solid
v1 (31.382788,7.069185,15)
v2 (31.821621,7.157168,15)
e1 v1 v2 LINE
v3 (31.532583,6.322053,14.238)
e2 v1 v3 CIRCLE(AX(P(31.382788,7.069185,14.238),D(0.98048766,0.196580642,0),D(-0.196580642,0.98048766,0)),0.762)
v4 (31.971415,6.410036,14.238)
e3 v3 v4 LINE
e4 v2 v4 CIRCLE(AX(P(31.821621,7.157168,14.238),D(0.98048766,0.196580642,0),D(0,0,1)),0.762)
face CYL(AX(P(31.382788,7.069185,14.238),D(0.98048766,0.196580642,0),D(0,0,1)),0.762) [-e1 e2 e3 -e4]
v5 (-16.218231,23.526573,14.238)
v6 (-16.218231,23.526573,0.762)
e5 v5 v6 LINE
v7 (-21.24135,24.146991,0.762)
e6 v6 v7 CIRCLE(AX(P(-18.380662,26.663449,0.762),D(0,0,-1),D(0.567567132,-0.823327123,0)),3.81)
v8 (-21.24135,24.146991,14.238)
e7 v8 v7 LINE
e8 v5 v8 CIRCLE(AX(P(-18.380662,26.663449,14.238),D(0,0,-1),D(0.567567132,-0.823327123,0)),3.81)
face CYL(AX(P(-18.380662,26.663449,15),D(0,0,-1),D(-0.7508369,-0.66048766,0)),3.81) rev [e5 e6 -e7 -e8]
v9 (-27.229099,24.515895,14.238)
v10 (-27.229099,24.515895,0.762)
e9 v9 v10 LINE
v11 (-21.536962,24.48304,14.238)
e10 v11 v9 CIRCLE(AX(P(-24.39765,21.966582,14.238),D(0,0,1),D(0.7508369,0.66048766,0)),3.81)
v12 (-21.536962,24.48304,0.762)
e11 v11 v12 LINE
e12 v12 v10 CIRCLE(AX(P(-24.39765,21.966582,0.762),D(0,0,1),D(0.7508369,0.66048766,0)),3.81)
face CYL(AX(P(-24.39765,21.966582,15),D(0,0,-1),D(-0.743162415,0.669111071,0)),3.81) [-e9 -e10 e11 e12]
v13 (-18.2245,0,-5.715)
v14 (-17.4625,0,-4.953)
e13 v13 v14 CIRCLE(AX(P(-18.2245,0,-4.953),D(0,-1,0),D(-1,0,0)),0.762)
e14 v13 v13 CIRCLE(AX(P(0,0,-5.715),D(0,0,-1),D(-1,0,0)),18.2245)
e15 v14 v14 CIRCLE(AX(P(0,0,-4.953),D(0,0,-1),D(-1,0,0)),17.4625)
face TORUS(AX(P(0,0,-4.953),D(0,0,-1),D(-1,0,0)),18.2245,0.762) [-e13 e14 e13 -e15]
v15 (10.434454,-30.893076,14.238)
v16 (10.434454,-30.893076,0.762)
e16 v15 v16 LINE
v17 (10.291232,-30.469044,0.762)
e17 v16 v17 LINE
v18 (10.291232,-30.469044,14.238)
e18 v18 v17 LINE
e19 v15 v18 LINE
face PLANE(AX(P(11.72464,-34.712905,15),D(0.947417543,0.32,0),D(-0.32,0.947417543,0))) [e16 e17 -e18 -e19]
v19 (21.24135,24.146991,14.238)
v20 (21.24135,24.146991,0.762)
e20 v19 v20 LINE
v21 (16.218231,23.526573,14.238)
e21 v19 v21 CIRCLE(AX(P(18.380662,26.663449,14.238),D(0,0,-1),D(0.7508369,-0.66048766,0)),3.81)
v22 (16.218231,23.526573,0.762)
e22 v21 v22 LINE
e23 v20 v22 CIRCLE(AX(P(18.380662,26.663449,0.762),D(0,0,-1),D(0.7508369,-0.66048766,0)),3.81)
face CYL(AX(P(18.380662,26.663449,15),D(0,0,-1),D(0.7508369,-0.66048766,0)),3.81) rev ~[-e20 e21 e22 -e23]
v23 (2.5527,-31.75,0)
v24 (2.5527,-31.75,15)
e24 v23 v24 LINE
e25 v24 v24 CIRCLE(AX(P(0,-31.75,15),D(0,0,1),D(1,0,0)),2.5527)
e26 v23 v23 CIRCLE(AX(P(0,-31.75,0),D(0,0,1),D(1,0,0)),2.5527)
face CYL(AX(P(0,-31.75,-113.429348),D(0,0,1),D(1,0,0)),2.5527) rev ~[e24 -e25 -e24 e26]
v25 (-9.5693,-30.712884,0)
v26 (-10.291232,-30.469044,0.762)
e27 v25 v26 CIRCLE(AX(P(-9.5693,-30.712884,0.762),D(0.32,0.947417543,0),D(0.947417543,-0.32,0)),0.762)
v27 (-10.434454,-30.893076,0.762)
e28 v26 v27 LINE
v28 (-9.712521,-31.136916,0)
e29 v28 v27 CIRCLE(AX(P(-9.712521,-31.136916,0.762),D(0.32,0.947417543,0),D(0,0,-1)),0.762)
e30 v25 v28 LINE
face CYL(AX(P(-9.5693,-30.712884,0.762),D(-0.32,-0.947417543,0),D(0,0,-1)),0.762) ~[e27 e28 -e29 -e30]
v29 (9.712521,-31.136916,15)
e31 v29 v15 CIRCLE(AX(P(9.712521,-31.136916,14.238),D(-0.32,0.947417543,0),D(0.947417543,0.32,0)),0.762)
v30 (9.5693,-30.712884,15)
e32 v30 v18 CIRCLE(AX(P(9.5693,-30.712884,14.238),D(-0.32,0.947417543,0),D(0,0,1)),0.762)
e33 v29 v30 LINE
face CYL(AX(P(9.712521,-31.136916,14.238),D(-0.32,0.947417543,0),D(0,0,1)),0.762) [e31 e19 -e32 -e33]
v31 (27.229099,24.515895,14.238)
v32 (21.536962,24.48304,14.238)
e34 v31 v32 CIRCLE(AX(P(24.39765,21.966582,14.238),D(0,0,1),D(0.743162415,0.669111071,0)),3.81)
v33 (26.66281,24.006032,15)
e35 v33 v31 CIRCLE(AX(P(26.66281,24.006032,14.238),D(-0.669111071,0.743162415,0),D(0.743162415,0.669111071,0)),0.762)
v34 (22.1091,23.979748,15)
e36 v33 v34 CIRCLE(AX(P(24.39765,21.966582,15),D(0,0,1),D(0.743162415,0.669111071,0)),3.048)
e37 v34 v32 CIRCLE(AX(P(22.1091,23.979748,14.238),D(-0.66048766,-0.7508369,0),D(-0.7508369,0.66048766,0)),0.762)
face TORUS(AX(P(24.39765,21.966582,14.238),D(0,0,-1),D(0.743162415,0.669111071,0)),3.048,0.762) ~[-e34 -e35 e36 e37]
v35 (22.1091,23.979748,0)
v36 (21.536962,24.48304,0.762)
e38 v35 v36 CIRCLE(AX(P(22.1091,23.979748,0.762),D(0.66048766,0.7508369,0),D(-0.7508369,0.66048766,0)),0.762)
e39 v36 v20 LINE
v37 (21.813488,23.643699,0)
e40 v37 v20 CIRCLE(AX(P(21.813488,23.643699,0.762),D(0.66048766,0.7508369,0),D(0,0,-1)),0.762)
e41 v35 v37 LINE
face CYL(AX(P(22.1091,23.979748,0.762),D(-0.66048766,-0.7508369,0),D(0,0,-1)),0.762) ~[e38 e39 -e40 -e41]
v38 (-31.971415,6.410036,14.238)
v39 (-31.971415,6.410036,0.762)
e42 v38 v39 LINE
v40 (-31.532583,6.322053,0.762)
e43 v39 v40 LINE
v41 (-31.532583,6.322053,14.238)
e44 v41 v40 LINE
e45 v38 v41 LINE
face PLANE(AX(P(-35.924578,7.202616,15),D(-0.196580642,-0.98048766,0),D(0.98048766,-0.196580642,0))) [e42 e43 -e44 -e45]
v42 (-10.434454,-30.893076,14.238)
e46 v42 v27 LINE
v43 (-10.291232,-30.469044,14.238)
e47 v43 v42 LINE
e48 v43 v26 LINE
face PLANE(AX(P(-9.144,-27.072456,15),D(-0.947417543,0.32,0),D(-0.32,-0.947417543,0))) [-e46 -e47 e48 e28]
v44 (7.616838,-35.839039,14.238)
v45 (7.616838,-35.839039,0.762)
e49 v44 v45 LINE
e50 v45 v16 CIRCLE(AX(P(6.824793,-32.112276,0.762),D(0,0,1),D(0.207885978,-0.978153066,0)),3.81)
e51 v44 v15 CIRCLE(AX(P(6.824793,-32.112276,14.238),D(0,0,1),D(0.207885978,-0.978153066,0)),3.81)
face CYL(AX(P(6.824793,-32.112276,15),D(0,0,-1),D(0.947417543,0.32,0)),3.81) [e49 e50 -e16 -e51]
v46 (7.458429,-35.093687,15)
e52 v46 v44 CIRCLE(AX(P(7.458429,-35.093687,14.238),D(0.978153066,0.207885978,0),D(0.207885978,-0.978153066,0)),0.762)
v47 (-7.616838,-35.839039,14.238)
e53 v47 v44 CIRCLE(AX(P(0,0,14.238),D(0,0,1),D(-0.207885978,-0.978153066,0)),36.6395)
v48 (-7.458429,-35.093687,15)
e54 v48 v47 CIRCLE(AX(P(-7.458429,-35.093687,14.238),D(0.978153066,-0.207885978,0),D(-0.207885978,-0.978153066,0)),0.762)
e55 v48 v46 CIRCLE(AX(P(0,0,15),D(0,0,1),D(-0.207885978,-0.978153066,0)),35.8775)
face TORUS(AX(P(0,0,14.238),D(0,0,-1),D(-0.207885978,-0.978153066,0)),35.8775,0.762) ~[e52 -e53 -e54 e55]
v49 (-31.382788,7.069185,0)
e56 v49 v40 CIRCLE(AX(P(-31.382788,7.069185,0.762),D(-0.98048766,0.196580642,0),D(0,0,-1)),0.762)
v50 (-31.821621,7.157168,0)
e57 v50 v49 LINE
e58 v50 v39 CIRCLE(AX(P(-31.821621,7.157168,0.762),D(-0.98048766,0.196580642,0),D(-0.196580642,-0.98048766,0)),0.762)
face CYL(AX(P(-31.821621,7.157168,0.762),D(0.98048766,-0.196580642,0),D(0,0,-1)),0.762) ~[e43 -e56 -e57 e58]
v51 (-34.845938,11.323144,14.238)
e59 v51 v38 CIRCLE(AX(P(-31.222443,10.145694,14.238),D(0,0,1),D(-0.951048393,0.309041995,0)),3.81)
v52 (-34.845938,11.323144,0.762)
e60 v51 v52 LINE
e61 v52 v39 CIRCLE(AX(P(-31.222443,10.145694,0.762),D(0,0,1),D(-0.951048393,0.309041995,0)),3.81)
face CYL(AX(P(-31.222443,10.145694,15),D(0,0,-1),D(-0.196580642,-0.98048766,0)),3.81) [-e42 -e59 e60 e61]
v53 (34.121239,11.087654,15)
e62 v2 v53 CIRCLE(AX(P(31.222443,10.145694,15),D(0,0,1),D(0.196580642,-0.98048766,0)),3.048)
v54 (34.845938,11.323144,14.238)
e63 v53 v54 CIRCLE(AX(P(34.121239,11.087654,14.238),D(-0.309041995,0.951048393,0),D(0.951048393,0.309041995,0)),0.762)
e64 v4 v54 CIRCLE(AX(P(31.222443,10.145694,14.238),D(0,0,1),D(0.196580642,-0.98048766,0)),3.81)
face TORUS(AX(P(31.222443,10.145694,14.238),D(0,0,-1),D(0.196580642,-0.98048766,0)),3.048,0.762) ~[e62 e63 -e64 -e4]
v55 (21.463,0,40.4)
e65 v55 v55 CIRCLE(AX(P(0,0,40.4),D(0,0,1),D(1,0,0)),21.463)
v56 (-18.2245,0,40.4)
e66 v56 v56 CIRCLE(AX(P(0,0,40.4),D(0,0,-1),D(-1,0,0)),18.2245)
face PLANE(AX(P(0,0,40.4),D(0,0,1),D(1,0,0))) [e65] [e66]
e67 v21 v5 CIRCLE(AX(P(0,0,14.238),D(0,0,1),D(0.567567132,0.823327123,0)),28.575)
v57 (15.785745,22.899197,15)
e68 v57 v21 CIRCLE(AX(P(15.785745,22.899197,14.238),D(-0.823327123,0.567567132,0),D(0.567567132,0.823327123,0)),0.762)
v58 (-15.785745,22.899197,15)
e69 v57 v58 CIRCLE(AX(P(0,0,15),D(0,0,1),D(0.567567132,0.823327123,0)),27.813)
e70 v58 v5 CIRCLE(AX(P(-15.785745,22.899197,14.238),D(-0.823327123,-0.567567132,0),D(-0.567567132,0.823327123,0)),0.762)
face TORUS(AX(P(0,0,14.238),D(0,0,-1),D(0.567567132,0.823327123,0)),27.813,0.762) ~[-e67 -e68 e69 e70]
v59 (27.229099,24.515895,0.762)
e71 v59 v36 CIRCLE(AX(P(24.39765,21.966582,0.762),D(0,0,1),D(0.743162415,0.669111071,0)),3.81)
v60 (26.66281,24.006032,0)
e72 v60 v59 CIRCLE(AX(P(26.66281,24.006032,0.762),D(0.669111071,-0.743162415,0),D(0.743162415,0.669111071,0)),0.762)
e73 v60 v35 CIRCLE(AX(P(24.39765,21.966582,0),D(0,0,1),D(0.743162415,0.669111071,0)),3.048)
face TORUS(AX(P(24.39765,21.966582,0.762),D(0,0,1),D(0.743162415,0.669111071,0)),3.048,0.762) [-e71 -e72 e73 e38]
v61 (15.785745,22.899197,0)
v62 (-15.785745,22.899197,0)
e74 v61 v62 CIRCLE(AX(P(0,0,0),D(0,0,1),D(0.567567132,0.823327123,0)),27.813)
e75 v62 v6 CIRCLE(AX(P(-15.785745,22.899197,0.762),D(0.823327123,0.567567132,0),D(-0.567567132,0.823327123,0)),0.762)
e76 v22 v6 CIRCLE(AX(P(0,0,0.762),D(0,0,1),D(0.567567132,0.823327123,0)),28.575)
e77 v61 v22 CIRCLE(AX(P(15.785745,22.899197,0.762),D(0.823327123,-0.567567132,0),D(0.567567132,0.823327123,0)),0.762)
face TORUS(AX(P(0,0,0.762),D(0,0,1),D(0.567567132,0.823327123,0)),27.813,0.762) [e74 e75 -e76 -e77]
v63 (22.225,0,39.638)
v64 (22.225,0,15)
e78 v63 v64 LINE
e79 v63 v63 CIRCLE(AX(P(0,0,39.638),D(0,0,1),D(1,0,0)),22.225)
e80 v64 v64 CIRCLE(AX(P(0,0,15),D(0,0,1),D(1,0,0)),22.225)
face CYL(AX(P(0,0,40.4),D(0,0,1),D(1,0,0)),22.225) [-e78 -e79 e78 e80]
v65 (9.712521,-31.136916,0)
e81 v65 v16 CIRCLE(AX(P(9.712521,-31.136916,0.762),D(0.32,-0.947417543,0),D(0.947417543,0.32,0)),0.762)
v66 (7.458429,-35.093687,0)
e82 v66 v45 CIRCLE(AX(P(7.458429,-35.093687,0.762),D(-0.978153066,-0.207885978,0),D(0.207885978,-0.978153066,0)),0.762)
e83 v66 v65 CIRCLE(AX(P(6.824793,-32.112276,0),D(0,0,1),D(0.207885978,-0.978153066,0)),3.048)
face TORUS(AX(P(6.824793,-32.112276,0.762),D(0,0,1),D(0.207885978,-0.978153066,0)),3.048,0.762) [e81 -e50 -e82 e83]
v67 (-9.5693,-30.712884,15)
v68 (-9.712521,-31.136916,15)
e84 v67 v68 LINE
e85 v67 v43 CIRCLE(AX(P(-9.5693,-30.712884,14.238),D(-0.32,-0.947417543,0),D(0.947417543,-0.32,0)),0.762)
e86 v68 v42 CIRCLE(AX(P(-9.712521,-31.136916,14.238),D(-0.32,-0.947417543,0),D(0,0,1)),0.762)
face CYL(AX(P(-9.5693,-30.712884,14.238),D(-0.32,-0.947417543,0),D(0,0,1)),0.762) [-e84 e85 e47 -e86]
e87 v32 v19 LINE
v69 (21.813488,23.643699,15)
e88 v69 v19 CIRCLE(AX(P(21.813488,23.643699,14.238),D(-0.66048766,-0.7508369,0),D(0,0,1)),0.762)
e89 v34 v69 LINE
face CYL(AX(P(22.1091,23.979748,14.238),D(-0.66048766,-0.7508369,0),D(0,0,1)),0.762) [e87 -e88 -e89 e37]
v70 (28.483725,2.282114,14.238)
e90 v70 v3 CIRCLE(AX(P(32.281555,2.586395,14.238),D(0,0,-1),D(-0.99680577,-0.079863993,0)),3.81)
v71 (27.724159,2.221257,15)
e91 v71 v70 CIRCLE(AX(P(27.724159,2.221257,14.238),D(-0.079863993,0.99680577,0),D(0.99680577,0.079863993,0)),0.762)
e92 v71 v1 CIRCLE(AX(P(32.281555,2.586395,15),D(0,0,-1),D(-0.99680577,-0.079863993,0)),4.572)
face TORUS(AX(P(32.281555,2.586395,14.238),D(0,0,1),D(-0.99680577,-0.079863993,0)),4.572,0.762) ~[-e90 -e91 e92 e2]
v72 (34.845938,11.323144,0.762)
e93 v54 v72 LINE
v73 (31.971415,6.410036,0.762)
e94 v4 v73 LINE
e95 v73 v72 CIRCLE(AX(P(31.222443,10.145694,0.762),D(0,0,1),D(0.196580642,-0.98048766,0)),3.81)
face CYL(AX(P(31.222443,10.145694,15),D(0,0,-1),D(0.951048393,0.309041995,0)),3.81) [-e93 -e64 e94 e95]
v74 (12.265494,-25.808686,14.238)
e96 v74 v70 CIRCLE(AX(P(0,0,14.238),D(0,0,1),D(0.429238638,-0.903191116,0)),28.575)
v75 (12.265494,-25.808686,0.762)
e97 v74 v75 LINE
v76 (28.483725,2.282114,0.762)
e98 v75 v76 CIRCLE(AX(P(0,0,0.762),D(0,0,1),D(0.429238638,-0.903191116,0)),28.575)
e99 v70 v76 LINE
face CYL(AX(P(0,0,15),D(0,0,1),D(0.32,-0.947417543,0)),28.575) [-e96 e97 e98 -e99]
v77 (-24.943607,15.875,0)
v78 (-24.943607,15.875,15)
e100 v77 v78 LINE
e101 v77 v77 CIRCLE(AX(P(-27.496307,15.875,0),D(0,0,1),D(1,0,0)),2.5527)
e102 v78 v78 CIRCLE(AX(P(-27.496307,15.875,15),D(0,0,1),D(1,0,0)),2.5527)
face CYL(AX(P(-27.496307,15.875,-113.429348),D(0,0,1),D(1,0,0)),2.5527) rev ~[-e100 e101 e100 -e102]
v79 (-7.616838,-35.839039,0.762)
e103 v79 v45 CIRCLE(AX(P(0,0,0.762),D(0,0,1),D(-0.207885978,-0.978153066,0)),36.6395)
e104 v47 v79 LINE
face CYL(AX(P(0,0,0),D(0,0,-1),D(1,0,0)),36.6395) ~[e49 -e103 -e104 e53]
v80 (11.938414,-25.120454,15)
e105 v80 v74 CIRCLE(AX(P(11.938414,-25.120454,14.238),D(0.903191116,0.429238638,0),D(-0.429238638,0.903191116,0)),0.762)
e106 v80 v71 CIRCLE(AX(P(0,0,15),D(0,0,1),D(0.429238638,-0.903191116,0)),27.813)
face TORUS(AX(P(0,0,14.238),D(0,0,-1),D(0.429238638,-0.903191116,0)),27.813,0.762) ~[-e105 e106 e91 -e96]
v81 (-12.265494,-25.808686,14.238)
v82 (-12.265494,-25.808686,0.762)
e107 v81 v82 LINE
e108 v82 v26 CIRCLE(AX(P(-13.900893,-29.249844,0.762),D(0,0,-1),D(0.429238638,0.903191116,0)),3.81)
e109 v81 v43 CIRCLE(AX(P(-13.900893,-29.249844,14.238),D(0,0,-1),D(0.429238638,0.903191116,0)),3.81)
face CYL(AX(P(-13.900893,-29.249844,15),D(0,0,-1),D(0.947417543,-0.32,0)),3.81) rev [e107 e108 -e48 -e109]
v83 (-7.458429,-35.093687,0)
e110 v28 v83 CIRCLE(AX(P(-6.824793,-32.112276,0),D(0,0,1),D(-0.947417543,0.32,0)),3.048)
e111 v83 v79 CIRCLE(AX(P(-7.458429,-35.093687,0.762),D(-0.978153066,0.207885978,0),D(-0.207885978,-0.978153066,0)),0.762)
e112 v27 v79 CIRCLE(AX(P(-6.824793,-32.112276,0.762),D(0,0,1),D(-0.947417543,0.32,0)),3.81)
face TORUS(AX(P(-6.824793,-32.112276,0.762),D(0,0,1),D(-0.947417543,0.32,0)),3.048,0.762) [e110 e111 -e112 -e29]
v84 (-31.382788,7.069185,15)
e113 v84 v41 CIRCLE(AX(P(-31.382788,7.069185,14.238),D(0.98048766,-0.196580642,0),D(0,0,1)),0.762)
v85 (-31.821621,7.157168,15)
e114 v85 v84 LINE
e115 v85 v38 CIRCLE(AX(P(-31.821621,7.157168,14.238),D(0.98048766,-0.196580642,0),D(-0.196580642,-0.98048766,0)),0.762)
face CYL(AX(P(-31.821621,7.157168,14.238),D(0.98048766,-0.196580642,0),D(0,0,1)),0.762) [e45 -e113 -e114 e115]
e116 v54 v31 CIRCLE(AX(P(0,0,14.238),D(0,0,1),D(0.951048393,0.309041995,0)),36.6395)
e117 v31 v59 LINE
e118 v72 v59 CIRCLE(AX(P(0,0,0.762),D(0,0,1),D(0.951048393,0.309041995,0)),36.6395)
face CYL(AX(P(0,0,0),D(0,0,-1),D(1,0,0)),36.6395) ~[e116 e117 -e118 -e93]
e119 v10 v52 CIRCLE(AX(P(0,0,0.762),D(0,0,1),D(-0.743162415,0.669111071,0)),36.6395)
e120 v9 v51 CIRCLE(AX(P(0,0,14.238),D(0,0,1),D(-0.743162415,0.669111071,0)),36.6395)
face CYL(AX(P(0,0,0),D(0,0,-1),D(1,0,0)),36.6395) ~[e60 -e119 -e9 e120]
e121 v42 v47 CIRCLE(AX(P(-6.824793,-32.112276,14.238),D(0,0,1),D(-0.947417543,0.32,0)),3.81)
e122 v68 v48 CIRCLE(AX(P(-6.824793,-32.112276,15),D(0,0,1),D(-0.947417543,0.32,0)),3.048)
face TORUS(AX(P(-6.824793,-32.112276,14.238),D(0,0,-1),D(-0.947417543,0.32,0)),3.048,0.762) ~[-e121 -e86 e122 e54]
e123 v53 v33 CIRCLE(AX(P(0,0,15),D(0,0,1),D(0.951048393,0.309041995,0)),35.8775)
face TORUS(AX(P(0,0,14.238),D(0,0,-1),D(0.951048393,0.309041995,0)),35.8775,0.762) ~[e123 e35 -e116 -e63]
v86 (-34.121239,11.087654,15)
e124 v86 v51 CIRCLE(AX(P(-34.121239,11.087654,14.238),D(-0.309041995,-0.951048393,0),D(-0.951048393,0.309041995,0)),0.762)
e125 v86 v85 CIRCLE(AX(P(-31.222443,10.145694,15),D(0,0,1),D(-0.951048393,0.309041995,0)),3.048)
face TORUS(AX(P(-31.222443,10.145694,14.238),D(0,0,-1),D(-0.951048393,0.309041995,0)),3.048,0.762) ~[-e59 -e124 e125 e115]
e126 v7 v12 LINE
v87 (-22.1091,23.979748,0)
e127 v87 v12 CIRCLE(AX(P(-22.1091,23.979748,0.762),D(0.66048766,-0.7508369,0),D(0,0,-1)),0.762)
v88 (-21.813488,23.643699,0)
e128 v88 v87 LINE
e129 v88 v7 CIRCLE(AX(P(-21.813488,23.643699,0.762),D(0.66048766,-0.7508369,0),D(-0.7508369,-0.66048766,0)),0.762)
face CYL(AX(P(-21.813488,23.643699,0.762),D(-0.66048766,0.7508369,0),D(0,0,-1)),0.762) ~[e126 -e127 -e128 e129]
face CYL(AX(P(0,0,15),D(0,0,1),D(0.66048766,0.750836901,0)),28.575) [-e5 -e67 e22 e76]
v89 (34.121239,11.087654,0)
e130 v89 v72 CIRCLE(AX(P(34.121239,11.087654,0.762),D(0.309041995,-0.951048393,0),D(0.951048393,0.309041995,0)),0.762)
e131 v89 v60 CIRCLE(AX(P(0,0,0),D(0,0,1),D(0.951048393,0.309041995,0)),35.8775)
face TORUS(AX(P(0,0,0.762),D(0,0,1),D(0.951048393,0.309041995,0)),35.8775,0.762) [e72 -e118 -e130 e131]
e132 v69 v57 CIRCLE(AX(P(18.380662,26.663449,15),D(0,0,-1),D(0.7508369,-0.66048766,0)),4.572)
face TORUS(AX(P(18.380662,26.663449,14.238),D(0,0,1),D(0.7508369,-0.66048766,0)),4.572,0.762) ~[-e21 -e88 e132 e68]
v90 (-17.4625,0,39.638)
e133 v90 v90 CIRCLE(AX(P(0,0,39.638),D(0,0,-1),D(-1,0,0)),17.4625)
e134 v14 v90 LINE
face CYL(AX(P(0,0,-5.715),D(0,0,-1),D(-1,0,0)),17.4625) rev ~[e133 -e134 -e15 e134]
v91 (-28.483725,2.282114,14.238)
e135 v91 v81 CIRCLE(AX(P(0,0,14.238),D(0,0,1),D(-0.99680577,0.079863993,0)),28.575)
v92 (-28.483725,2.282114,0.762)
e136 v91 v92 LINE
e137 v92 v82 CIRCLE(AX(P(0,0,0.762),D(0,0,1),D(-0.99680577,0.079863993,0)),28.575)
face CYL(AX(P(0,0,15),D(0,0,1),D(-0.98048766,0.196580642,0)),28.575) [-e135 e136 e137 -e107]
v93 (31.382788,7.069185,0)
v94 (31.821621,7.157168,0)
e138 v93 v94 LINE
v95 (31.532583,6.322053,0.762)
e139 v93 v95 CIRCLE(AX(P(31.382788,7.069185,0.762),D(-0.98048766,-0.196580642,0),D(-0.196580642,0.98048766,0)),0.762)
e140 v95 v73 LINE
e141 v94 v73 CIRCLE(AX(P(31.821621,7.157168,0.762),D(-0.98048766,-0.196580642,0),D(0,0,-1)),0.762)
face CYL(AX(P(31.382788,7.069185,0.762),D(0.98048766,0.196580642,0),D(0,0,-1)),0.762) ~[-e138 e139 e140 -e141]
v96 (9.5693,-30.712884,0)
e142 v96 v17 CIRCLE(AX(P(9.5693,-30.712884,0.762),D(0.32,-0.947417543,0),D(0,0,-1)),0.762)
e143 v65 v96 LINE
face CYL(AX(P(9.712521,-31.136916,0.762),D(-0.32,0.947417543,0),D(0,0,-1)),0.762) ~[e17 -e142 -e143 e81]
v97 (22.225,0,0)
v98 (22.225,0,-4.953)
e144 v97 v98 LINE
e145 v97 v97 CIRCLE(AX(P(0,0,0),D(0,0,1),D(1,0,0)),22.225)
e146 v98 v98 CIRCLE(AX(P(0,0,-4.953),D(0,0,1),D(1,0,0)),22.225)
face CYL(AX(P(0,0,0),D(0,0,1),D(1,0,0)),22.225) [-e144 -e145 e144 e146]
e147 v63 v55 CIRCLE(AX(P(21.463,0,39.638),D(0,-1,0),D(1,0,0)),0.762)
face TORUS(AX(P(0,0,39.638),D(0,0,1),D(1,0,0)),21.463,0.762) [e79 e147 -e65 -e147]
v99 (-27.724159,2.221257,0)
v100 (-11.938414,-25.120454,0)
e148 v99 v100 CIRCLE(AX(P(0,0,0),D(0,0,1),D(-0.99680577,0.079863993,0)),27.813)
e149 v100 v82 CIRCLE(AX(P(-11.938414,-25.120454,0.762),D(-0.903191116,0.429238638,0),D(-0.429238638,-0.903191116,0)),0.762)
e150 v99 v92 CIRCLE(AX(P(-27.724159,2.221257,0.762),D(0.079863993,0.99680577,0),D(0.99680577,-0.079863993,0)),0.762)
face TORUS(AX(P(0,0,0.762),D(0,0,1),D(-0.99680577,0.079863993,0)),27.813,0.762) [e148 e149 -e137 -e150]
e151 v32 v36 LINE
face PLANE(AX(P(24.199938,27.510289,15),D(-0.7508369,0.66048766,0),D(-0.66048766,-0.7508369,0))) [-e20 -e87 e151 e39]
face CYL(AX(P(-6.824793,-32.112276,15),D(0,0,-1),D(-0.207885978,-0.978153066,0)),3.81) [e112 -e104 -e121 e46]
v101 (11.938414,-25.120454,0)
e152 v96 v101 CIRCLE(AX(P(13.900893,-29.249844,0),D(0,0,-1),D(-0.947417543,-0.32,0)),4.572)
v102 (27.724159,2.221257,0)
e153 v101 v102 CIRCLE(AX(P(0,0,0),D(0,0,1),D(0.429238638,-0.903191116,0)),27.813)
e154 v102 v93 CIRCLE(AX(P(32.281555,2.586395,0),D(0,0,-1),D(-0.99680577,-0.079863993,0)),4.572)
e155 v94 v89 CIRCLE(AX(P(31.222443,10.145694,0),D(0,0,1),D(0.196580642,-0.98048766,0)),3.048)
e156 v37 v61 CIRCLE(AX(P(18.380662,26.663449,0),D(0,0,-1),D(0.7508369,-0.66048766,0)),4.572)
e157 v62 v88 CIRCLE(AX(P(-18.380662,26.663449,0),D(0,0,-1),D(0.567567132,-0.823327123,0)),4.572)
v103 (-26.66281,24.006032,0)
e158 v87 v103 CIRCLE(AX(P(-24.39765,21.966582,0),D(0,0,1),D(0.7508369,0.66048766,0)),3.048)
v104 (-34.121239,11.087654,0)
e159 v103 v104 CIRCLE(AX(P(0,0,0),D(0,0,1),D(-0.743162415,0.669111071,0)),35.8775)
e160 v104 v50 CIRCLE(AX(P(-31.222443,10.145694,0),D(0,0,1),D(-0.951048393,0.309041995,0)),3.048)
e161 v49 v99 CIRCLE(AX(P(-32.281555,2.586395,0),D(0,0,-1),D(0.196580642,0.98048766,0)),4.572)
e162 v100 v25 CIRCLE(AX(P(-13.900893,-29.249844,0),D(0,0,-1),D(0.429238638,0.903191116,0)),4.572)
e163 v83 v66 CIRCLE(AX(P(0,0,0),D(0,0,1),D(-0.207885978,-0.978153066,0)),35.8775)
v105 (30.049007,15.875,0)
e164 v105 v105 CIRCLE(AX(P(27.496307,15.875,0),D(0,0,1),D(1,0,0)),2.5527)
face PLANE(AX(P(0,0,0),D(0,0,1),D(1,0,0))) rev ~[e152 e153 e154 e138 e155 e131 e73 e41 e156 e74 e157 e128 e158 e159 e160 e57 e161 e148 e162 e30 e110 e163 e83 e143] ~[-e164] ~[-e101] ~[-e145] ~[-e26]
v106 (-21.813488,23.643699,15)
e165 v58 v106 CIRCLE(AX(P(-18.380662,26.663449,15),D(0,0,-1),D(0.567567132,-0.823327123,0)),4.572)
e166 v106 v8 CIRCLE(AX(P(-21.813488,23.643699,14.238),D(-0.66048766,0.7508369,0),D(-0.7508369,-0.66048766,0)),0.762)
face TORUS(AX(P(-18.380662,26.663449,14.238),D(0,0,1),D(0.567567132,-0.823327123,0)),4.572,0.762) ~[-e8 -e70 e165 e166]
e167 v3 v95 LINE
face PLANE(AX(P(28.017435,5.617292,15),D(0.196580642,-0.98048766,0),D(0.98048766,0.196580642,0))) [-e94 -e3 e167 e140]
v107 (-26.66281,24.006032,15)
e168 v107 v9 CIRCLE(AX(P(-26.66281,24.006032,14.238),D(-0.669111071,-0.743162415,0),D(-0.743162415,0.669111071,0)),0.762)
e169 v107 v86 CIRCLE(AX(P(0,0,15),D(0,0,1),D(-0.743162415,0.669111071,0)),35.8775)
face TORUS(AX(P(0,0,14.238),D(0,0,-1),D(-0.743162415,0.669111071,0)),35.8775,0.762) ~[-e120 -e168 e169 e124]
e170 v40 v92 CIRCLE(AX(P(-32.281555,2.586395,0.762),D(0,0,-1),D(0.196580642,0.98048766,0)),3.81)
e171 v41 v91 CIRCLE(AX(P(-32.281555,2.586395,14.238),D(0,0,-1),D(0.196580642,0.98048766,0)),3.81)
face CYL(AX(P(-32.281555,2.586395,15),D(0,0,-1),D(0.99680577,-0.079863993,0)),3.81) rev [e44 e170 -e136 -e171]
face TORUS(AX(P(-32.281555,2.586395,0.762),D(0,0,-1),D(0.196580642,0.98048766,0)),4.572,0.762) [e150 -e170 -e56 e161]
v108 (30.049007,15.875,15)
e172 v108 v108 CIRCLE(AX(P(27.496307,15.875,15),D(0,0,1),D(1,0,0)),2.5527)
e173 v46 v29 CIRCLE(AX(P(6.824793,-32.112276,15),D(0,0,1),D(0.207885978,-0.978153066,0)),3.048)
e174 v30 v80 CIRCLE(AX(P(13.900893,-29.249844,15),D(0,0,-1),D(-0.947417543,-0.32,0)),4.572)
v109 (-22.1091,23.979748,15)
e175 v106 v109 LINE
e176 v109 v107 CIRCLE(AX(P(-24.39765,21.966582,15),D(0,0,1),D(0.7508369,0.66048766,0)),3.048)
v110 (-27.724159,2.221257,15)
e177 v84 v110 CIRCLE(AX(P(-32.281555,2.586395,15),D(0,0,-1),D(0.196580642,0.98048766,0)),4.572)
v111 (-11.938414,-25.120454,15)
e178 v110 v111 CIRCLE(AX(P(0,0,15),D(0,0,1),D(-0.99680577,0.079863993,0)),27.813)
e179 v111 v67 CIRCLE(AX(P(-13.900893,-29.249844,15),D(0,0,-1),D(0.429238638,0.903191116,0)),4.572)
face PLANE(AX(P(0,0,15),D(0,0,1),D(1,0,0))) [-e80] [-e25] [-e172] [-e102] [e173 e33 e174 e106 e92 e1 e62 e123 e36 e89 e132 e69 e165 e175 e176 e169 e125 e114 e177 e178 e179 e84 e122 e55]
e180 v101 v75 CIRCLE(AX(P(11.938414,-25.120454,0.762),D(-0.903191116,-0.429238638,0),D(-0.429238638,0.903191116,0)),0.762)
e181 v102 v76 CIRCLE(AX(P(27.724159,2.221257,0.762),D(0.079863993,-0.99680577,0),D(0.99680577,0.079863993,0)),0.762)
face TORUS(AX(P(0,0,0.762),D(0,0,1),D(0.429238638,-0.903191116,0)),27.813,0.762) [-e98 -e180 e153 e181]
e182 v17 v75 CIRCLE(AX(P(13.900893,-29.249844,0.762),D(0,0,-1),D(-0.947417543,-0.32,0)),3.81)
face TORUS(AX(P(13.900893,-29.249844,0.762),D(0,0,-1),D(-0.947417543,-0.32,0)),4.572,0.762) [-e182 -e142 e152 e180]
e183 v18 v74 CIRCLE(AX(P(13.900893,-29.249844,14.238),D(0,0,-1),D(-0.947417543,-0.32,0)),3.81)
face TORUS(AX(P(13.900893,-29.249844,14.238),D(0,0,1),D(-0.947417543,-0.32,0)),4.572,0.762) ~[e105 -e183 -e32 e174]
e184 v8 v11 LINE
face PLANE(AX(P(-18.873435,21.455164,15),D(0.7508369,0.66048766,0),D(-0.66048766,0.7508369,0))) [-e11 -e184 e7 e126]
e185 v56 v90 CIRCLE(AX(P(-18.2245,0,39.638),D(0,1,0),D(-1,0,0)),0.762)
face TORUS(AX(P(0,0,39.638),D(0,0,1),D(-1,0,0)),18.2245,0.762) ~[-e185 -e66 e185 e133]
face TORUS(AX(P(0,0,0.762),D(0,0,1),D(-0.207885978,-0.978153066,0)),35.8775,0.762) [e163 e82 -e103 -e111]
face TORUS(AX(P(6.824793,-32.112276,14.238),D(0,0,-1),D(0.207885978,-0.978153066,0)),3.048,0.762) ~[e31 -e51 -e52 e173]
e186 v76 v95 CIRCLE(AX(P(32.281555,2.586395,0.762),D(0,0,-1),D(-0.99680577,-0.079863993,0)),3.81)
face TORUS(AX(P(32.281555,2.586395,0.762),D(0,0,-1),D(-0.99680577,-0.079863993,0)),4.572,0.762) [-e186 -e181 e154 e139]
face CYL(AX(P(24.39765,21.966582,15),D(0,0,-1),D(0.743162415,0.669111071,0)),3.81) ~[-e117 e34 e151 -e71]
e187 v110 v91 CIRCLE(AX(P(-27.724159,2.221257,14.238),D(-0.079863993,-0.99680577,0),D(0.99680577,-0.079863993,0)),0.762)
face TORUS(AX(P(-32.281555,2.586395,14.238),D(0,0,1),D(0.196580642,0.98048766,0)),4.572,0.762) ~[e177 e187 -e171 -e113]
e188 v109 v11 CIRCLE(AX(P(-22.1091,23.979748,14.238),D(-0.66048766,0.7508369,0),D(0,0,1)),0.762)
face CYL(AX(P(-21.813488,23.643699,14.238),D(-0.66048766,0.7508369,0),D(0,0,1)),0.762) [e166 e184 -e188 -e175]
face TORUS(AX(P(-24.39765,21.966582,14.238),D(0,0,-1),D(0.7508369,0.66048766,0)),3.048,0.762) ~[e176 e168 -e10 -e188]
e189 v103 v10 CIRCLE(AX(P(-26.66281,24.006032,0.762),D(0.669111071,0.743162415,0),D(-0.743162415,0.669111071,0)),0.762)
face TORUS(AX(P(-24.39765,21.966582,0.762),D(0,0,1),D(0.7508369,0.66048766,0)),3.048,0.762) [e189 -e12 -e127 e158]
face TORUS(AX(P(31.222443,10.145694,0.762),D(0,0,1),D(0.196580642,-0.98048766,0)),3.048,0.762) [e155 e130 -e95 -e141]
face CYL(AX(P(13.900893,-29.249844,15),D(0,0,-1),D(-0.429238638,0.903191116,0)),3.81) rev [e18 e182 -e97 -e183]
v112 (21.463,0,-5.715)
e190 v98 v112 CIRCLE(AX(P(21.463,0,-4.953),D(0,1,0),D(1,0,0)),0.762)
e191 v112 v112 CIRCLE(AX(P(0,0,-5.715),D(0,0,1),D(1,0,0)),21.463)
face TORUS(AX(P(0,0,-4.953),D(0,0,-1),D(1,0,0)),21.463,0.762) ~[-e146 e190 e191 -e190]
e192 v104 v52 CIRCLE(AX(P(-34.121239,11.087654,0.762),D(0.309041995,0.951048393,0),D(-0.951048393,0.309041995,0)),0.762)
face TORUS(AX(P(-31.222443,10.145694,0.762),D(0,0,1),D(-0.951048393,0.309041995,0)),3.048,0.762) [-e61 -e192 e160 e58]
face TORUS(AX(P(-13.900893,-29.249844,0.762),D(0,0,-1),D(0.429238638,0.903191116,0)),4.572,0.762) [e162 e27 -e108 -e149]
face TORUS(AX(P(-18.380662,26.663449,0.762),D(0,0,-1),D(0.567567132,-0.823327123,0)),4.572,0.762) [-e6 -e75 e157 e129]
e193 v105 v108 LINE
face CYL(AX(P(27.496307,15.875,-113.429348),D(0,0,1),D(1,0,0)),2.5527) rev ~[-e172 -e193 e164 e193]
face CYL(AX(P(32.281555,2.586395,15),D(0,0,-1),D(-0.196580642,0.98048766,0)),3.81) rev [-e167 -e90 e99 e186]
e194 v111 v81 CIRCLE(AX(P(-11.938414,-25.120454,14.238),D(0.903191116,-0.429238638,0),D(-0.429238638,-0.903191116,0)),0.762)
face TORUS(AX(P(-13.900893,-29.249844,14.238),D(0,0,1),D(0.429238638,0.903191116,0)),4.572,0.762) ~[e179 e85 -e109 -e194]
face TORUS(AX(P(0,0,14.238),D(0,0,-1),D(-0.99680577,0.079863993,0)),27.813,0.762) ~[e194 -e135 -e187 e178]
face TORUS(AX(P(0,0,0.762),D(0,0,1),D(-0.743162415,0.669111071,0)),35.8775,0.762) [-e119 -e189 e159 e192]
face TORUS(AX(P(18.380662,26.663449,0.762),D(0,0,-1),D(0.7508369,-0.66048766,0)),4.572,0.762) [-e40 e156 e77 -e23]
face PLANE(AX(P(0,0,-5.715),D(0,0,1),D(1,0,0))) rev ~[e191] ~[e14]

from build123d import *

# Parameters (mm, degrees)
SKETCH2_R               = 36.6395
BOSS_EXTRUDE1_DEPTH     = 15
SKETCH3_R               = 22.225
BOSS_EXTRUDE2_DEPTH     = 5.715
BOSS_EXTRUDE3_START     = 25.4
SKETCH6_R               = 22.225
BOSS_EXTRUDE3_DEPTH     = 25.4
SKETCH5_R               = 17.4625
CUT_EXTRUDE1_DEPTH      = 70.364970594
F_1_4_20_TAPPED_HOLE1_D = 5.1054
CUT_EXTRUDE2_DEPTH      = 58.706723356
FILLET1_R               = 3.81
FILLET2_R               = 0.762


with BuildPart() as part:
    # Sketch2 → Boss-Extrude1 (new body)
    with BuildSketch(Plane.XY):
        Circle(SKETCH2_R)
    extrude(amount=BOSS_EXTRUDE1_DEPTH)

    # Sketch3 → Boss-Extrude2 (add)
    with BuildSketch(Plane.XY):
        Circle(SKETCH3_R)
    extrude(amount=-BOSS_EXTRUDE2_DEPTH)

    # Sketch6 → Boss-Extrude3 (add)
    with BuildSketch(Plane.XY.offset(15).offset(BOSS_EXTRUDE3_START)):
        Circle(SKETCH6_R)
    extrude(amount=-BOSS_EXTRUDE3_DEPTH)

    # Sketch5 → Cut-Extrude1 (cut, through all)
    with BuildSketch(Plane(origin=(0, 0, -5.715), x_dir=(-1, 0, 0), z_dir=(0, 0, -1))):
        Circle(SKETCH5_R)
    extrude(amount=-CUT_EXTRUDE1_DEPTH, mode=Mode.SUBTRACT)

    # 1/4-20 Tapped Hole1 (through all)
    with Locations(Plane(origin=(0, 0, 0), x_dir=(-1, 0, 0), z_dir=(0, 0, -1))):
        with Locations((27.49630657, 15.875), (0, -31.75), (-27.49630657, 15.875)):
            Hole(F_1_4_20_TAPPED_HOLE1_D / 2)

    # Sketch10 → Cut-Extrude2 (cut, through all)
    with BuildSketch(Plane.XY.offset(15)):
        with BuildLine():
            Line((-18.873434881, 21.455164432), (-24.199937614, 27.510288616))
            ThreePointArc((-24.199937614, 27.510288616), (0, 36.6395), (24.199937614, 27.510288616))
            Line((24.199937614, 27.510288616), (18.873434881, 21.455164432))
            ThreePointArc((18.873434881, 21.455164432), (0, 28.575), (-18.873434881, 21.455164432))
        make_face()
        with BuildLine():
            Line((28.017434881, 5.617291847), (35.924577614, 7.202616436))
            ThreePointArc((35.924577614, 7.202616436), (31.730737782, -18.31975), (11.72464, -34.712905052))
            Line((11.72464, -34.712905052), (9.144, -27.072456279))
            ThreePointArc((9.144, -27.072456279), (24.746675913, -14.2875), (28.017434881, 5.617291847))
        make_face()
        with BuildLine():
            Line((-9.144, -27.072456279), (-11.72464, -34.712905052))
            ThreePointArc((-11.72464, -34.712905052), (-31.730737782, -18.31975), (-35.924577614, 7.202616436))
            Line((-35.924577614, 7.202616436), (-28.017434881, 5.617291847))
            ThreePointArc((-28.017434881, 5.617291847), (-24.746675913, -14.2875), (-9.144, -27.072456279))
        make_face()
    extrude(amount=-CUT_EXTRUDE2_DEPTH, mode=Mode.SUBTRACT)

    # Fillet1
    fillet1_edges = [part.edges().sort_by_distance(p)[0] for p in [
        (18.873434881, 21.455164432, 7.5),
        (-18.873434881, 21.455164432, 7.5),
        (-24.199937614, 27.510288616, 7.5),
        (24.199937614, 27.510288616, 7.5),
        (9.144, -27.072456279, 7.5),
        (28.017434881, 5.617291847, 7.5),
        (35.924577614, 7.202616436, 7.5),
        (11.72464, -34.712905052, 7.5),
        (-28.017434881, 5.617291847, 7.5),
        (-9.144, -27.072456279, 7.5),
        (-11.72464, -34.712905052, 7.5),
        (-35.924577614, 7.202616436, 7.5),
    ]]
    fillet(fillet1_edges, radius=FILLET1_R)

    # Fillet2
    fillet2_edges = [part.edges().sort_by_distance(p)[0] for p in [
        (0, 28.575, 15),
        (0, 28.575, 0),
        (31.730737782, 18.31975, 0),
        (31.730737782, 18.31975, 15),
        (-21.389156025, 24.315015389, 15),
        (-31.730737782, 18.31975, 15),
        (-31.751999033, 6.366044788, 15),
        (-24.746675913, -14.2875, 15),
        (-10.362843008, -30.681060177, 15),
        (0, -36.6395, 15),
        (10.362843008, -30.681060177, 15),
        (24.746675913, -14.2875, 15),
        (31.751999033, 6.366044788, 15),
        (-10.135290078, -33.998199512, 15),
        (10.135290078, -33.998199512, 15),
        (34.5109495, 8.221681074, 15),
        (-34.5109495, 8.221681074, 15),
        (-24.375659422, 25.776518438, 15),
        (-22.225, 0, 40.4),
        (24.375659422, 25.776518438, 15),
        (-31.730737782, 18.31975, 0),
        (-21.389156025, 24.315015389, 0),
        (31.751999033, 6.366044788, 0),
        (24.746675913, -14.2875, 0),
        (10.362843008, -30.681060177, 0),
        (0, -36.6395, 0),
        (-10.362843008, -30.681060177, 0),
        (-24.746675913, -14.2875, 0),
        (-31.751999033, 6.366044788, 0),
        (-10.135290078, -33.998199512, 0),
        (10.135290078, -33.998199512, 0),
        (34.5109495, 8.221681074, 0),
        (-34.5109495, 8.221681074, 0),
        (-24.375659422, 25.776518438, 0),
        (24.375659422, 25.776518438, 0),
        (18.847695524, 22.882181987, 15),
        (18.847695524, 22.882181987, 0),
        (-18.847695524, 22.882181987, 15),
        (-18.847695524, 22.882181987, 0),
        (-29.240398656, 4.881492134, 15),
        (-29.240398656, 4.881492134, 0),
        (29.240398656, 4.881492134, 15),
        (29.240398656, 4.881492134, 0),
        (-10.392703132, -27.76367412, 15),
        (-10.392703132, -27.76367412, 0),
        (10.392703132, -27.76367412, 15),
        (10.392703132, -27.76367412, 0),
        (17.4625, 0, 40.4),
        (17.4625, 0, -5.715),
        (-22.225, 0, -5.715),
        (21.389156025, 24.315015389, 15),
        (21.389156025, 24.315015389, 0),
    ]]
    fillet(fillet2_edges, radius=FILLET2_R)


solid = part.part
